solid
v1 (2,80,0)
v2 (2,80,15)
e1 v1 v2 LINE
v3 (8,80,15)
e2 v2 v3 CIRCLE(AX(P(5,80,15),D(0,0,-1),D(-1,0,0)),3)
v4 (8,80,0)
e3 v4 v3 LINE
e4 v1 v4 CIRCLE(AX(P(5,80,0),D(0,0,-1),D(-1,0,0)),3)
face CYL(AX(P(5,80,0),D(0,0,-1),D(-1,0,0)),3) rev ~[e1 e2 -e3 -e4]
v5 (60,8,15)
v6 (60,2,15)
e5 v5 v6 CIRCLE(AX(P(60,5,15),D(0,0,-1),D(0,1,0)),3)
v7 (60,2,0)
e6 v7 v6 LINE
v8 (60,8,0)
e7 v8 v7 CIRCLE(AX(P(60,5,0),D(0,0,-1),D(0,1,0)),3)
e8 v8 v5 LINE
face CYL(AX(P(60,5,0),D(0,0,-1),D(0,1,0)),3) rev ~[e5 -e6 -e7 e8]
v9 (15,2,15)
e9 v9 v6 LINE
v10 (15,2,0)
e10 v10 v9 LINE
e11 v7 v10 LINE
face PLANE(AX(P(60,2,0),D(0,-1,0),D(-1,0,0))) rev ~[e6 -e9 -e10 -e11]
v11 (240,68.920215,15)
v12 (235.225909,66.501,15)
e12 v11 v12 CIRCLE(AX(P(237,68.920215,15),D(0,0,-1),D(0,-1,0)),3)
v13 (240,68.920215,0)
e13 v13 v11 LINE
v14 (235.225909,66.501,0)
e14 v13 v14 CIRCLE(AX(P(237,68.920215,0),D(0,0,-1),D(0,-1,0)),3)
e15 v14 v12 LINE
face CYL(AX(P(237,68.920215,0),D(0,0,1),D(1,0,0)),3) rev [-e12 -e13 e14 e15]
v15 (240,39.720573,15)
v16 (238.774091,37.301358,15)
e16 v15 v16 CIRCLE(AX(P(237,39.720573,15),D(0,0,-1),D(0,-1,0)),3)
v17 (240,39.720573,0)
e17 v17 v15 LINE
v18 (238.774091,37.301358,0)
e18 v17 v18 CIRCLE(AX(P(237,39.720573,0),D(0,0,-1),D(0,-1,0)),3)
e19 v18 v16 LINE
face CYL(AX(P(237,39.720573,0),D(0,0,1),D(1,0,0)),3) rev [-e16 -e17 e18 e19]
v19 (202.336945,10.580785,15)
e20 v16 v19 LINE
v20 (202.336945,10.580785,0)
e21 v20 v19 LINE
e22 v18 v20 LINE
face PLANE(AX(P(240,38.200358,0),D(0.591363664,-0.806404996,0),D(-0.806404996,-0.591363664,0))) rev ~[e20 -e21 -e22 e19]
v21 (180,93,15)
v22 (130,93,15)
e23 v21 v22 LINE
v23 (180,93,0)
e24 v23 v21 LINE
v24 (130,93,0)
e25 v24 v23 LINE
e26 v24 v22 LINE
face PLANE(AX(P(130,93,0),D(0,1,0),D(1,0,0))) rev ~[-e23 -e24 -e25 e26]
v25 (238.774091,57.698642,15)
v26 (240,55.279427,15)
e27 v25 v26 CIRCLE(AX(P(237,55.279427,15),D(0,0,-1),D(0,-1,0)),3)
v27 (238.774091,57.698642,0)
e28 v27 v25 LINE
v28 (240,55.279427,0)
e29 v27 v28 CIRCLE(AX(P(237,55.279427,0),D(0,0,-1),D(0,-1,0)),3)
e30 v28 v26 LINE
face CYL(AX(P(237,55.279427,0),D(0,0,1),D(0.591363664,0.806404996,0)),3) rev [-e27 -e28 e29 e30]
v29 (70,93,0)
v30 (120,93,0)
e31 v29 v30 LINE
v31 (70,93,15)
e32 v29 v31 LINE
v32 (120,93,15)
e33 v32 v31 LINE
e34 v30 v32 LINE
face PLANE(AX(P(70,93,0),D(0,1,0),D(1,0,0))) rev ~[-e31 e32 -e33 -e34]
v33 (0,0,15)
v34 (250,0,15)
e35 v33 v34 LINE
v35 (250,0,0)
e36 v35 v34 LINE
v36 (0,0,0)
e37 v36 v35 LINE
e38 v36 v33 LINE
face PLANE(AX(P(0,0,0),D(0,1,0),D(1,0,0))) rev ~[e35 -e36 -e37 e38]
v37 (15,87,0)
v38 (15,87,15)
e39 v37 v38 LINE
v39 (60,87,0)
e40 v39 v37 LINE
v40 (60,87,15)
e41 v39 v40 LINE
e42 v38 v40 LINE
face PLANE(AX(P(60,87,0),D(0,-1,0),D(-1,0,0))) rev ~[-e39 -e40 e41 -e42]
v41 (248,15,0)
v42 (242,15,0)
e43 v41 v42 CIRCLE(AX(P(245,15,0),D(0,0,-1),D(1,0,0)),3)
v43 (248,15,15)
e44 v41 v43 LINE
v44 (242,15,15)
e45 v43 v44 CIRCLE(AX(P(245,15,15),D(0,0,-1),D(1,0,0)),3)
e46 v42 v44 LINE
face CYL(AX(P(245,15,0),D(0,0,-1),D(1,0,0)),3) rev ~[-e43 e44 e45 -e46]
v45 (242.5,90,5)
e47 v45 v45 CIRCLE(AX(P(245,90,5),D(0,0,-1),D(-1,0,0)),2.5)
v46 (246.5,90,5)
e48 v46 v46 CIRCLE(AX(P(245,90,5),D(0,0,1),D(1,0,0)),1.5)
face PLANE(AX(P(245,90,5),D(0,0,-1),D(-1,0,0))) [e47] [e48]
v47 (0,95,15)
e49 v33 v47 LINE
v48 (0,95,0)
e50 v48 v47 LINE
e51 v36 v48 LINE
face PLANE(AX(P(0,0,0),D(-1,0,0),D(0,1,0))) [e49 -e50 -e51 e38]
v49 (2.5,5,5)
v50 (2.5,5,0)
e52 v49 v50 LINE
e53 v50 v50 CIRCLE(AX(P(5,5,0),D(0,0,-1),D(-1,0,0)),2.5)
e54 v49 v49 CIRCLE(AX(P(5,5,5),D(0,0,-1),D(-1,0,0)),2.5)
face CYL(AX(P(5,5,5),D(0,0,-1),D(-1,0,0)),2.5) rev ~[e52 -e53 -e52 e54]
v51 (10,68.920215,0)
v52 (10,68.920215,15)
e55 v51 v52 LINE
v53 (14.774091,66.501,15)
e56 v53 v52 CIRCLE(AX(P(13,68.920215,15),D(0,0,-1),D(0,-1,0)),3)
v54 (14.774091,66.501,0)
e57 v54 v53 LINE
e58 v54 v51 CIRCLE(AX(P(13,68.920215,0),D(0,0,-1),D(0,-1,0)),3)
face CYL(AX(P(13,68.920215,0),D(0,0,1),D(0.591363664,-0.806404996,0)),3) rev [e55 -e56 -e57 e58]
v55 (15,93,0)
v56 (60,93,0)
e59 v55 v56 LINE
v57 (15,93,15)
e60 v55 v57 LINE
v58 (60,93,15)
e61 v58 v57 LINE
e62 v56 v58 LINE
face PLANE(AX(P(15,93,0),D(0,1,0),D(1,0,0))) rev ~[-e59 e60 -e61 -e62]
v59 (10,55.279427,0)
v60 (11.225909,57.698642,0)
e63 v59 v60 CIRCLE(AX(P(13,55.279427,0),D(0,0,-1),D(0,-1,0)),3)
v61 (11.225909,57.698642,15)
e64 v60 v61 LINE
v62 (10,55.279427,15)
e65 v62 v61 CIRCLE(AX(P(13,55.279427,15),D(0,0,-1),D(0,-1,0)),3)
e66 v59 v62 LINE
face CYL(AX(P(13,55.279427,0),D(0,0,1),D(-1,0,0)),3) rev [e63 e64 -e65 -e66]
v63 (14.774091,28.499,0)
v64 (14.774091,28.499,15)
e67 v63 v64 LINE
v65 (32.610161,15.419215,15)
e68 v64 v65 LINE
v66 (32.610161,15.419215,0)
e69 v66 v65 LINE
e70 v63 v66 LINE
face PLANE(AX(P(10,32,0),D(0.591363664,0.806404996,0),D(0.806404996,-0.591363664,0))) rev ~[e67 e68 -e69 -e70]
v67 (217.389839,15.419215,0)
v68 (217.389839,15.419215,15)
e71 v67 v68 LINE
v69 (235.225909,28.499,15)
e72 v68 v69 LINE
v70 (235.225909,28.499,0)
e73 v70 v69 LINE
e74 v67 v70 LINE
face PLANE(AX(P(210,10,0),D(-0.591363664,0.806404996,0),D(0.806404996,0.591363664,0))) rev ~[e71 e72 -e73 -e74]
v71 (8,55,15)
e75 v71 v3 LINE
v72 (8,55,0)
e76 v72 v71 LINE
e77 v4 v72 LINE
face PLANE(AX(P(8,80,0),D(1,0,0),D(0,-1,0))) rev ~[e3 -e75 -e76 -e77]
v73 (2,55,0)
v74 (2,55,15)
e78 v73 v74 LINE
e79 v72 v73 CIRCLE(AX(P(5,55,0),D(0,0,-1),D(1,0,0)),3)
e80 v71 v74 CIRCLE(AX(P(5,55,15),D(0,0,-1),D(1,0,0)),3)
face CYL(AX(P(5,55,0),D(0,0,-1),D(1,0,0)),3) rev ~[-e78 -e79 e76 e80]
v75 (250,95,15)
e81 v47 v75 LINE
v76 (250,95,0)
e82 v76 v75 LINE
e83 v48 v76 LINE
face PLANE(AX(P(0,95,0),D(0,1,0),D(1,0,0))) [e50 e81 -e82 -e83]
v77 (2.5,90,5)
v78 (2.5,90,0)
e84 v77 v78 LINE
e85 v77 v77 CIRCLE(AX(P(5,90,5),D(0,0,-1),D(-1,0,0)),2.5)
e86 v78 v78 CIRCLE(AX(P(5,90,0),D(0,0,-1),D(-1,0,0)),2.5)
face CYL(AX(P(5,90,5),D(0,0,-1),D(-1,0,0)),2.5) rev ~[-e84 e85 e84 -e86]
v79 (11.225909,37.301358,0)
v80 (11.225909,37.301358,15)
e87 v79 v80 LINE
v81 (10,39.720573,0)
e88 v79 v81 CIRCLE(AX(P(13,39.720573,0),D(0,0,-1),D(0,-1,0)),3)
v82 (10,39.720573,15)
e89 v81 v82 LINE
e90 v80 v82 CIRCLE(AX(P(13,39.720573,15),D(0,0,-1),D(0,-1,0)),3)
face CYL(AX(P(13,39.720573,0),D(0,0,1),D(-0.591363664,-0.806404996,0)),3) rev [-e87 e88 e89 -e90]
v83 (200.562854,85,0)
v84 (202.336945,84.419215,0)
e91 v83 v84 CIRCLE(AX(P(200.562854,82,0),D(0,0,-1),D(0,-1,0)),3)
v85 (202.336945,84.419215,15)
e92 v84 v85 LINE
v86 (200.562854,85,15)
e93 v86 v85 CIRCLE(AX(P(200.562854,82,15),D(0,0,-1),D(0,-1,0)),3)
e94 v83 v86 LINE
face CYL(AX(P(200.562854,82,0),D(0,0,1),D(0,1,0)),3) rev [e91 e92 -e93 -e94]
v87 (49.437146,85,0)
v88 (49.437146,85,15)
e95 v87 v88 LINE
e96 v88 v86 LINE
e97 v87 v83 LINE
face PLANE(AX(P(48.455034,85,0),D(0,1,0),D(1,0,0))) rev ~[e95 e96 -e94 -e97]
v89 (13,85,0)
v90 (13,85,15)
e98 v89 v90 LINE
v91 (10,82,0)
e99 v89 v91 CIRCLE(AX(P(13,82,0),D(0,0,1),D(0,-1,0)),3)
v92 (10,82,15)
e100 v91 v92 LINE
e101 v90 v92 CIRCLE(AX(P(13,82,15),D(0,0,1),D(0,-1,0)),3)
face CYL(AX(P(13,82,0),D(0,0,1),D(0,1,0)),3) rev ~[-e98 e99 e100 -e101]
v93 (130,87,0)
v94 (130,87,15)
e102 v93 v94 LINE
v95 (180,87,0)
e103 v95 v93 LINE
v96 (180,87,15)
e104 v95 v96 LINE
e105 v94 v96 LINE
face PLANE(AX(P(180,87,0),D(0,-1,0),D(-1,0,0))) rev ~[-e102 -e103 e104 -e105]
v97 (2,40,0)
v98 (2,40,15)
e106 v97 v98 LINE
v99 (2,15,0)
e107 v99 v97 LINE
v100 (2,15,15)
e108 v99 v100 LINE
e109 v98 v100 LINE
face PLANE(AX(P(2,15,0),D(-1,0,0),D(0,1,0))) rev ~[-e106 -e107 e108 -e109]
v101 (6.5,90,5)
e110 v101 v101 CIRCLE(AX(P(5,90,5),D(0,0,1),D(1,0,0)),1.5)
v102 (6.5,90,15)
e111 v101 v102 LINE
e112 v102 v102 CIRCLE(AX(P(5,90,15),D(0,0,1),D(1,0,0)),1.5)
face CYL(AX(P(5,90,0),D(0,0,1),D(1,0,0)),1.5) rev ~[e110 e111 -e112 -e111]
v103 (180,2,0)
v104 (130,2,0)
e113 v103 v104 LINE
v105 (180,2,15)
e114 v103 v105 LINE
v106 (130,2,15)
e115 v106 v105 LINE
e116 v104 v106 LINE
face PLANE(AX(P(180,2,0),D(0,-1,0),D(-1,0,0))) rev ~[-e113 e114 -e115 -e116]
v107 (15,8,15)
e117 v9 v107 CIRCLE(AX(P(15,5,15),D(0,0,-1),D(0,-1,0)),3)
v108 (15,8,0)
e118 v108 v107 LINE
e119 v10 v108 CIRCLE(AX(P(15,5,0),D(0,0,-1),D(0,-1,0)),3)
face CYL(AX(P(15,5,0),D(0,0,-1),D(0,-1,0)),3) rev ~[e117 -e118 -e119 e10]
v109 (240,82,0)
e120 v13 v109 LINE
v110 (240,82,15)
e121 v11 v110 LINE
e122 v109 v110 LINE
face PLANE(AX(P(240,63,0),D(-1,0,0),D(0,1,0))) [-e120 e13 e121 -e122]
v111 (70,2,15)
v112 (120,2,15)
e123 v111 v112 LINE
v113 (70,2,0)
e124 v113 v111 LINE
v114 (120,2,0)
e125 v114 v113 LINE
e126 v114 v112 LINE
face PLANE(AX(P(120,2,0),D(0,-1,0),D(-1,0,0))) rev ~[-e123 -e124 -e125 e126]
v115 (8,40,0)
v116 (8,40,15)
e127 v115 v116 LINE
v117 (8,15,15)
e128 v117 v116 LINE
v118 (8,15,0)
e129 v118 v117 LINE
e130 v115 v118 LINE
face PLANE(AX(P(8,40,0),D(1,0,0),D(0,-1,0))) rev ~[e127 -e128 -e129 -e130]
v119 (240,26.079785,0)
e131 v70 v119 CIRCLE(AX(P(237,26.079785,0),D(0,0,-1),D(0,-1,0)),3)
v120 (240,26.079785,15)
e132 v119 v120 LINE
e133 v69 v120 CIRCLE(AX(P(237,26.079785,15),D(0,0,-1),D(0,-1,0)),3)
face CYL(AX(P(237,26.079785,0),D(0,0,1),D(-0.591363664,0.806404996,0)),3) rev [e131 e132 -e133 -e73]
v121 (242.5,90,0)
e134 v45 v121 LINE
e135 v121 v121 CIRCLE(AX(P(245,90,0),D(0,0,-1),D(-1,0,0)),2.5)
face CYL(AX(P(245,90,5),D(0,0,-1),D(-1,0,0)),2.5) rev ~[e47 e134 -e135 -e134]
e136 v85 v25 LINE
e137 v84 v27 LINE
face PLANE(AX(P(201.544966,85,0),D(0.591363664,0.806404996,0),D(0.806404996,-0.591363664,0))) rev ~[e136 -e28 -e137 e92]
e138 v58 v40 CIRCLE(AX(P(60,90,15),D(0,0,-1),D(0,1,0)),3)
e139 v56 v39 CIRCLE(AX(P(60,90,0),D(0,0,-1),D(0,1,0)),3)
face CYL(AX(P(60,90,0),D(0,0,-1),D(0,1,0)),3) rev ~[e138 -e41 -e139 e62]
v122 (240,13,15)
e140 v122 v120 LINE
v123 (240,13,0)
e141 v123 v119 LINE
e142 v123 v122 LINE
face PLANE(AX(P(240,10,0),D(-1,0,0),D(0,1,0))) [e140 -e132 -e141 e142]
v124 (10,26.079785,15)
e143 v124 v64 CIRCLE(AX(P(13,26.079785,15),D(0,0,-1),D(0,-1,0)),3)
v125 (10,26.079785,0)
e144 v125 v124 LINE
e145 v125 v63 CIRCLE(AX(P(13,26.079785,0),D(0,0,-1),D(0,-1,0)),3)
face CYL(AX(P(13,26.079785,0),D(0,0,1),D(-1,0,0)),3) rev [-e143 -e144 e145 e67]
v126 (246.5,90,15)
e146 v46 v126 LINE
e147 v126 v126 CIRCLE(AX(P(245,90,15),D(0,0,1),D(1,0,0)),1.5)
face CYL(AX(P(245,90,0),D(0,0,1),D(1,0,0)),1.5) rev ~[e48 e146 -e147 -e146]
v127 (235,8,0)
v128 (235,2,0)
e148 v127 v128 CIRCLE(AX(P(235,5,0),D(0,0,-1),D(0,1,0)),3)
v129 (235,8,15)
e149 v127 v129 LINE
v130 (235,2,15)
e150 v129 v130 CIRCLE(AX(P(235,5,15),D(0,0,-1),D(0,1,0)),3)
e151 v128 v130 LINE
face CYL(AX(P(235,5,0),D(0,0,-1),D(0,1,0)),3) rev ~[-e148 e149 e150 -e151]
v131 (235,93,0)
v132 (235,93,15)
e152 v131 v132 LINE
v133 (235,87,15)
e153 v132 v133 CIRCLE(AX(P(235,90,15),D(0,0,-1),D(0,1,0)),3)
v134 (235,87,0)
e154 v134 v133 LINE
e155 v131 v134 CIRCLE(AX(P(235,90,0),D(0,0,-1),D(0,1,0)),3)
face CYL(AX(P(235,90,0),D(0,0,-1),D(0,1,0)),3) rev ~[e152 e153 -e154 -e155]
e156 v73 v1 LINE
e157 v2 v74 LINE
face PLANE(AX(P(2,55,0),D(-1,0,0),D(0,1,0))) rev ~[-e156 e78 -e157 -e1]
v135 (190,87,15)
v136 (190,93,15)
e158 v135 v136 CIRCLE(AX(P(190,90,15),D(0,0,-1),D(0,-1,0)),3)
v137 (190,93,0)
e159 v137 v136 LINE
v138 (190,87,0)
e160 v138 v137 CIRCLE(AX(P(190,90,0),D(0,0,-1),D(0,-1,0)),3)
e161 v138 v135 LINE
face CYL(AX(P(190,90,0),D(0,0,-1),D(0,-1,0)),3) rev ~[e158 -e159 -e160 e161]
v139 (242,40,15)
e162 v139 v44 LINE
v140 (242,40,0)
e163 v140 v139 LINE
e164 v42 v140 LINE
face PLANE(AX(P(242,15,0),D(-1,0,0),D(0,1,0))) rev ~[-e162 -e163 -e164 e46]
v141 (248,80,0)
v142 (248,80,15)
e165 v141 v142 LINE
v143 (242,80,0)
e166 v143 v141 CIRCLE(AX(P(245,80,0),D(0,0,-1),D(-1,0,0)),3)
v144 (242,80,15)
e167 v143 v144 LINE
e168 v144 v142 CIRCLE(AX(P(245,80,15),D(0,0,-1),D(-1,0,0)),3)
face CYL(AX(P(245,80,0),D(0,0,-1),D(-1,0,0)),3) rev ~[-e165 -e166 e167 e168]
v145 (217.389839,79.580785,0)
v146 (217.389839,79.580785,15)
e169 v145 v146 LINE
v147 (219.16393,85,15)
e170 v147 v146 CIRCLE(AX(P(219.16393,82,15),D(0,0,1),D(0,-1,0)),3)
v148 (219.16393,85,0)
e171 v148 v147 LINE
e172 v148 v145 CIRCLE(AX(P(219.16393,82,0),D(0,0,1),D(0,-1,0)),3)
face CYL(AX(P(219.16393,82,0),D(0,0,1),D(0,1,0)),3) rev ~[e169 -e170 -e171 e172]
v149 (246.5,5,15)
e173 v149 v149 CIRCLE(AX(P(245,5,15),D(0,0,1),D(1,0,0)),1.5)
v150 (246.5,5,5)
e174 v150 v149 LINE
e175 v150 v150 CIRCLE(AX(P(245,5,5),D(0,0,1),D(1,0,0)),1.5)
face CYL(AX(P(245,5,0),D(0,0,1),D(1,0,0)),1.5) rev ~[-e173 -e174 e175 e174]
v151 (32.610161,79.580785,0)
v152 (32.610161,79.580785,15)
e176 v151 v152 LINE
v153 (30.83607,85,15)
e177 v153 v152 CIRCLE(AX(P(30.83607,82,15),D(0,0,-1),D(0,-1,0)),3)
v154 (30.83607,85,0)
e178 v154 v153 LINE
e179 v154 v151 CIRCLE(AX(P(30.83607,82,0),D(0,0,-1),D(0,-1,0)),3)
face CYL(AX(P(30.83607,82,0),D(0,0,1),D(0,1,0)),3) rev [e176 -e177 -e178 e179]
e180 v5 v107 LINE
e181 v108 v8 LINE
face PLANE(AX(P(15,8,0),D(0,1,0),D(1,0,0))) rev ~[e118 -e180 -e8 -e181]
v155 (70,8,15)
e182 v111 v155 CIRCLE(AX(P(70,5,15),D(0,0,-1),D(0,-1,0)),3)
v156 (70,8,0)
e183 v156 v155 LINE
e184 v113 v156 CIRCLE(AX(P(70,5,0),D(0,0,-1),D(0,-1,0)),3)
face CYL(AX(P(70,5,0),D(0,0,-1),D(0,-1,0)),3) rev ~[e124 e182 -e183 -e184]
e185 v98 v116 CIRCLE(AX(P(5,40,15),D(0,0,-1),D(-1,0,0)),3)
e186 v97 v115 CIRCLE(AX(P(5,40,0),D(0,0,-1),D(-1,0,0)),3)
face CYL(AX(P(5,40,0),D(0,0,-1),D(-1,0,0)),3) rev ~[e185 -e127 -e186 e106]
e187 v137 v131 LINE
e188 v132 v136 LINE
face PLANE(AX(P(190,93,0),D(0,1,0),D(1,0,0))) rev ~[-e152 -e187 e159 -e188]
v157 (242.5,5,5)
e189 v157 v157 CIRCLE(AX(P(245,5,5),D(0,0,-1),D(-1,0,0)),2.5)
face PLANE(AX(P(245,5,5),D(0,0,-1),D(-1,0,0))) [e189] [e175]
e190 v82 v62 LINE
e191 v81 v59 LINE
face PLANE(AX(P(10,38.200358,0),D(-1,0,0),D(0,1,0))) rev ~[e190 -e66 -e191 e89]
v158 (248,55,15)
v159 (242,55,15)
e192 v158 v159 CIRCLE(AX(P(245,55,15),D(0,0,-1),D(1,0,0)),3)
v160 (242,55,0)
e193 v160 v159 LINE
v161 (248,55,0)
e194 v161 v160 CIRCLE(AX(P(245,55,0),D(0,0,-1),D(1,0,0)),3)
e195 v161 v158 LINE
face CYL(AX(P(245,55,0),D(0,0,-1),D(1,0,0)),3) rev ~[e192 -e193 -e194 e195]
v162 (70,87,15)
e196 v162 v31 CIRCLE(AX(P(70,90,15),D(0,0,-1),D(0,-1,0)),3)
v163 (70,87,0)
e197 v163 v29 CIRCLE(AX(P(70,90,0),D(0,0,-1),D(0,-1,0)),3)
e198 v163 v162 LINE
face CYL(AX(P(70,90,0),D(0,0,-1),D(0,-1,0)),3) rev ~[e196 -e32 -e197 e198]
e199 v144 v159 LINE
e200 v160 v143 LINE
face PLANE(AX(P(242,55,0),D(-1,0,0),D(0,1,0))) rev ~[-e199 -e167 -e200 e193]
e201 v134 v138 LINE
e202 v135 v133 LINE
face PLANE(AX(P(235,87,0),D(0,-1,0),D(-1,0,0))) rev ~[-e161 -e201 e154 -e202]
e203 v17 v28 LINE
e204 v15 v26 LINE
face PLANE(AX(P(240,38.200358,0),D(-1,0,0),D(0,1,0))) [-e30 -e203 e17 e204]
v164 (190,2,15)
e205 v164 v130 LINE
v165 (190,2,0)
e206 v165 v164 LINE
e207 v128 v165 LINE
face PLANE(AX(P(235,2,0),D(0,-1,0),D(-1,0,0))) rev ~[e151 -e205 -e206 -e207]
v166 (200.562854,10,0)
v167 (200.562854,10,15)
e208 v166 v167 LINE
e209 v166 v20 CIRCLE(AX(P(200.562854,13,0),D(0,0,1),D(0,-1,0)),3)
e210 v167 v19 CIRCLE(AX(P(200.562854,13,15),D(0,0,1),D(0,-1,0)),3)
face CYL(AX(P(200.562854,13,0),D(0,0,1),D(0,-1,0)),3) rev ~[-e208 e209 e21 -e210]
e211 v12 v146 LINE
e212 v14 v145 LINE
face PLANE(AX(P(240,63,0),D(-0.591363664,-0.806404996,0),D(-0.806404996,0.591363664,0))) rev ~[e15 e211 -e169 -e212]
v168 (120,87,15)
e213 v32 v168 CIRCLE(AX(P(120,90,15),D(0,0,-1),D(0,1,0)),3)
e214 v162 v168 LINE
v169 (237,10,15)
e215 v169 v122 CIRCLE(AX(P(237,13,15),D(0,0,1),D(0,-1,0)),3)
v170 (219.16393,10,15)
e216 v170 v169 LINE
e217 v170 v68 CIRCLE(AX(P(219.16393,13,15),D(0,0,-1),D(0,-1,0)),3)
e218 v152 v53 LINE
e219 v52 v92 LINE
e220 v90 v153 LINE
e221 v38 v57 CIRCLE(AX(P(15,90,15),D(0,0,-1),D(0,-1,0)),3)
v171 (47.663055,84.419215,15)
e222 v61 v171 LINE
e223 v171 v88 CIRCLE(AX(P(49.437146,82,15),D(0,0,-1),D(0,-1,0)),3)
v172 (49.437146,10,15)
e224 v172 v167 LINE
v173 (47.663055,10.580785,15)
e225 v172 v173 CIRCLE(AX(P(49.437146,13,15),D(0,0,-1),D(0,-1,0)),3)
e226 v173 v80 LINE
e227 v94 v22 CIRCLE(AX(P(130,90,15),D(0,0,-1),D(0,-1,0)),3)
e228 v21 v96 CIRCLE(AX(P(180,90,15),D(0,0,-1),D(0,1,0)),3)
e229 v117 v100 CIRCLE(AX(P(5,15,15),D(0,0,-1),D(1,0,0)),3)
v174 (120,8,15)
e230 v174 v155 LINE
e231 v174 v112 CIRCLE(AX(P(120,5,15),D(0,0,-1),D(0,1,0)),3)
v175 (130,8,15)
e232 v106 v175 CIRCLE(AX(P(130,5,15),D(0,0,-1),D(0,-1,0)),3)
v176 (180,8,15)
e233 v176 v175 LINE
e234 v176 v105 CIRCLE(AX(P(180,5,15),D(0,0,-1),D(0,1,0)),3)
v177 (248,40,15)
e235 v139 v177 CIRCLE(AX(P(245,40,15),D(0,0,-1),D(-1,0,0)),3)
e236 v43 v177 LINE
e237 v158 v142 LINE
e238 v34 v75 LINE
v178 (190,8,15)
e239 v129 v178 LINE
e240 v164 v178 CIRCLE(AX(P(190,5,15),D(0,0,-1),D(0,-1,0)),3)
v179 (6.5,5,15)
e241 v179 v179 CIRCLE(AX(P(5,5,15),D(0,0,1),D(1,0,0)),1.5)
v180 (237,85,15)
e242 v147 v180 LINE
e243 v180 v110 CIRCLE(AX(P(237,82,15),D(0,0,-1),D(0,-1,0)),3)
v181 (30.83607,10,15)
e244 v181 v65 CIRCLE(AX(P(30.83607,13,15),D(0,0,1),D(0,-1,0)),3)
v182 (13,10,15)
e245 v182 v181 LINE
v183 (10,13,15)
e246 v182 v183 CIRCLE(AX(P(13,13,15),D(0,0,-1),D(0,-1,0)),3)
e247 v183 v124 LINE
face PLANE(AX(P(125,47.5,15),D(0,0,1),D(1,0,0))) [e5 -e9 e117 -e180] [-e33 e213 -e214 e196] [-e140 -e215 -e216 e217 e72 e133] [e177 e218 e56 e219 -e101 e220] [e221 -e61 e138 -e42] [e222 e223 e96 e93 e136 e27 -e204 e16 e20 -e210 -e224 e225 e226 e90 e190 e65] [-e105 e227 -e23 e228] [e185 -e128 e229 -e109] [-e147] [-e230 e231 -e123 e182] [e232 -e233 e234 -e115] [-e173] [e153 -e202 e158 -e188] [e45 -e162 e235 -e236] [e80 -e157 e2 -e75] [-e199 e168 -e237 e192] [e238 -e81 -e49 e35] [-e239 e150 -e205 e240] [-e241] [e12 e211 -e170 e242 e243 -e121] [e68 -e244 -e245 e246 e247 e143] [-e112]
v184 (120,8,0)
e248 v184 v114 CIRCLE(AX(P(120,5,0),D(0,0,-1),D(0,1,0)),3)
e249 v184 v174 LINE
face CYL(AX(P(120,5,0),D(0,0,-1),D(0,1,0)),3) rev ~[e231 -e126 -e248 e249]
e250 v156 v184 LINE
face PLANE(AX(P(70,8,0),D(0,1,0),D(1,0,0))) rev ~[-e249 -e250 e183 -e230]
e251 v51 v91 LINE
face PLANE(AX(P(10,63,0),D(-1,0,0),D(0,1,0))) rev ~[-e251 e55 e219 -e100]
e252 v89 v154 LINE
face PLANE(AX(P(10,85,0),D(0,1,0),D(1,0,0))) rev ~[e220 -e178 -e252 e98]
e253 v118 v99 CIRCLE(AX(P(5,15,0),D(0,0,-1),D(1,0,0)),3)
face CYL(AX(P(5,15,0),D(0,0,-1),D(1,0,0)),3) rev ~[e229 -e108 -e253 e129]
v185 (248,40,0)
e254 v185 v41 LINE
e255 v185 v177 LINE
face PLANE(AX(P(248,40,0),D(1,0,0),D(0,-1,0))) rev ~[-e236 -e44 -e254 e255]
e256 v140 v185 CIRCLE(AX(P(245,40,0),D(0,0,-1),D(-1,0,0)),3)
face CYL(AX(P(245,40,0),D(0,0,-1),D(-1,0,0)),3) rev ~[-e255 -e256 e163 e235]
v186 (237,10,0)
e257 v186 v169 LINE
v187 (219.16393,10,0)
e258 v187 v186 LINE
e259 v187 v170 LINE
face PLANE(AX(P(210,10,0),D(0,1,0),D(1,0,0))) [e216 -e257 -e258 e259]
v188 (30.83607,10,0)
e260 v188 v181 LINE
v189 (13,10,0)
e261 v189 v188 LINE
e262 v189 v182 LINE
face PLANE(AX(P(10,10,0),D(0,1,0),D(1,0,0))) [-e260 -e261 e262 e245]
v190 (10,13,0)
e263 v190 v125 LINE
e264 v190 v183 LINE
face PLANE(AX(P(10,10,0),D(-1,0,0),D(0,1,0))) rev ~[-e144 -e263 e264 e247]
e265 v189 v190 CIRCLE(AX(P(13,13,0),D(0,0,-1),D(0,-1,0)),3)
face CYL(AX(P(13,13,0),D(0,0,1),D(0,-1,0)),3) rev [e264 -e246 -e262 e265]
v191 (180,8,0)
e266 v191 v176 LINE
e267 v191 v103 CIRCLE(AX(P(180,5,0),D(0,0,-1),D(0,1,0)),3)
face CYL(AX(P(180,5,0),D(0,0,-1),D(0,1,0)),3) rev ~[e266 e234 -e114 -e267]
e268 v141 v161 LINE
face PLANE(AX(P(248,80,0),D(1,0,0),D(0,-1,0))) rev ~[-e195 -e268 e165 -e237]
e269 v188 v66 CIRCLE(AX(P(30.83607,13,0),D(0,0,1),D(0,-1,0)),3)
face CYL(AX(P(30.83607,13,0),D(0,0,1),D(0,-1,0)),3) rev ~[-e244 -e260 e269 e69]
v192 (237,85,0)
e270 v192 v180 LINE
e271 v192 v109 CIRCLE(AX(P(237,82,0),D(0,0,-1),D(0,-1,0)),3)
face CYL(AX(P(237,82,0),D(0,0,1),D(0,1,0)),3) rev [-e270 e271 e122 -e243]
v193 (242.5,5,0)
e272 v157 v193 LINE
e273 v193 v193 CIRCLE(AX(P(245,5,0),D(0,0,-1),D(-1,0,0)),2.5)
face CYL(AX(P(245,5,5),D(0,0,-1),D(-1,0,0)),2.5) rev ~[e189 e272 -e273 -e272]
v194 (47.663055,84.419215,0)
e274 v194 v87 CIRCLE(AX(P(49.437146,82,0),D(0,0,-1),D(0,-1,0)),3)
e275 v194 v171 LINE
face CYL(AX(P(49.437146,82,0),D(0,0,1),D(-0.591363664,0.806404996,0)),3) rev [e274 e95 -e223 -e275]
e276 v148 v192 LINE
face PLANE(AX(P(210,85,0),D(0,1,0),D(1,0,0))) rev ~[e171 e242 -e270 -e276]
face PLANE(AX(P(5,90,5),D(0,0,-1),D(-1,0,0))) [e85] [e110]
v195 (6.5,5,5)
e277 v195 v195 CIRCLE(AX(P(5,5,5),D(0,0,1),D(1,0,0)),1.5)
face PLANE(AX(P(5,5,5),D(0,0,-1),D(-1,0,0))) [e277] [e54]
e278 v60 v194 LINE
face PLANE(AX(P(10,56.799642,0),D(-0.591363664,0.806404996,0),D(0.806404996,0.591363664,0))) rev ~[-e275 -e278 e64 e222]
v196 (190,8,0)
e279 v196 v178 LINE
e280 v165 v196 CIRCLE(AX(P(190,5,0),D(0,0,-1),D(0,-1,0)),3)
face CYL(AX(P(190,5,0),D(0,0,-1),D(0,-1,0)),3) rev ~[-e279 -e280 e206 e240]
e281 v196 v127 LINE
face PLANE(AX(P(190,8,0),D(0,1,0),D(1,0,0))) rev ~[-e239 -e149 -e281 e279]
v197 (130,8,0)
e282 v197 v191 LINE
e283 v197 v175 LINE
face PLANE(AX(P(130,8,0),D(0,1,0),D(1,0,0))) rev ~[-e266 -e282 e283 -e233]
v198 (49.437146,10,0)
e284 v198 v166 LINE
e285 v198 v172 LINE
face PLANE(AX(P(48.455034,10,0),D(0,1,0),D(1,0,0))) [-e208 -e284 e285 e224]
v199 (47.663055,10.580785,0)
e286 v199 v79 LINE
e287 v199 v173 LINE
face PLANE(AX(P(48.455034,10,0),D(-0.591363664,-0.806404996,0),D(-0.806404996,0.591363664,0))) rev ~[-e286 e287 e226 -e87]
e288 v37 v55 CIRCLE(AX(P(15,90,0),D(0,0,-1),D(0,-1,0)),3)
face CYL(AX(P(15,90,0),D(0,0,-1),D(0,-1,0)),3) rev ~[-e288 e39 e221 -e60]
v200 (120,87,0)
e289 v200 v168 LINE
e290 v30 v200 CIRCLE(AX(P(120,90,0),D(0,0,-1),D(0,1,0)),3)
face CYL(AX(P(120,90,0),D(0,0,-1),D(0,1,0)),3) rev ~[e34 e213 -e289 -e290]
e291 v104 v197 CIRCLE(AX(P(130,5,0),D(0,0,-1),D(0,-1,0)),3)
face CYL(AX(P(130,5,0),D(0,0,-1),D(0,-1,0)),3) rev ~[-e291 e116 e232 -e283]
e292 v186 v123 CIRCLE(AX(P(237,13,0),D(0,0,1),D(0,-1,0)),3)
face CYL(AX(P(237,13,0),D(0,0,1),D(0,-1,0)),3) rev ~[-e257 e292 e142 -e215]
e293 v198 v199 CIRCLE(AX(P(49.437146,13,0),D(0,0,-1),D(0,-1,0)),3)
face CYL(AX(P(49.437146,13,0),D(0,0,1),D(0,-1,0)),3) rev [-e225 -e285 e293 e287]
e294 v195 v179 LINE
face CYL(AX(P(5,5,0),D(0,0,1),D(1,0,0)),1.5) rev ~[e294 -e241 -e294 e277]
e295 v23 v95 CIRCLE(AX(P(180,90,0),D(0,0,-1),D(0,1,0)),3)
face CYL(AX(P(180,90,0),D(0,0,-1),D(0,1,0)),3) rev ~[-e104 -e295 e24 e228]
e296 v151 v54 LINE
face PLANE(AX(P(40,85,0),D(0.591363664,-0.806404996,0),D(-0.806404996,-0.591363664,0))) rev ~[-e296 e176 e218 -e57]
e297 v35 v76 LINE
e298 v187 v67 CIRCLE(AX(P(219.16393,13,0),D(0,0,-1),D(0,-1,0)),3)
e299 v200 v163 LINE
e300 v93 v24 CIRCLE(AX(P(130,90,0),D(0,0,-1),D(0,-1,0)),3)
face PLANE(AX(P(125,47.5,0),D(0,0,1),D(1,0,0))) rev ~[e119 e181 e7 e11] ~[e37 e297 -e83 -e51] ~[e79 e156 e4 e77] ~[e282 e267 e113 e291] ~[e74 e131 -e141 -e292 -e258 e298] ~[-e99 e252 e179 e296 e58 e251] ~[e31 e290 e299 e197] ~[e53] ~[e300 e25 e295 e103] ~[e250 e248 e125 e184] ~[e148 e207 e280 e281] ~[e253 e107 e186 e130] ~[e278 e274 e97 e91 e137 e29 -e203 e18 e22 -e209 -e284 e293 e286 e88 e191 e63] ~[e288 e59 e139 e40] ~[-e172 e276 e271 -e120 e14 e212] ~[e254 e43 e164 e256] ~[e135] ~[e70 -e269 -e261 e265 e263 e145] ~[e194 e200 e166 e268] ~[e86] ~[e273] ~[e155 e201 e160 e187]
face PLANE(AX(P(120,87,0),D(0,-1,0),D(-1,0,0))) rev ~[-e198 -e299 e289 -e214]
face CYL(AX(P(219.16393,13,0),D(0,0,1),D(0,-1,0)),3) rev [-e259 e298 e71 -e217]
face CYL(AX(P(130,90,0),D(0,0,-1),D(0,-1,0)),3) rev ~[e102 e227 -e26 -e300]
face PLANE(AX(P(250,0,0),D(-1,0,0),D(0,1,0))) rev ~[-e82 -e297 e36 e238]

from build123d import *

# Parameters (mm, degrees)
SKETCH1_W                                      = 250
SKETCH1_H                                      = 95
SKETCH1_W_2                                    = 230
SKETCH1_H_2                                    = 75
BOSS_EXTRUDE1_DEPTH                            = 15
FILLET1_R                                      = 3
CUT_EXTRUDE2_DEPTH                             = 16
CBORE_FOR_M1_6_HEX_HEAD_CAP_SCREW1_D           = 3
CBORE_FOR_M1_6_HEX_HEAD_CAP_SCREW1_CBORE_D     = 5
CBORE_FOR_M1_6_HEX_HEAD_CAP_SCREW1_CBORE_DEPTH = 5


with BuildPart() as part:
    # Sketch1 → Boss-Extrude1 (new body)
    with BuildSketch(Plane.XY):
        with Locations((125, 47.5)):
            Rectangle(SKETCH1_W, SKETCH1_H)
        with Locations((125, 47.5)):
            Rectangle(SKETCH1_W_2, SKETCH1_H_2, mode=Mode.SUBTRACT)
        Polygon((40, 85), (10, 63), (10, 56.799641587), (48.455034199, 85), align=None)
        Polygon((48.455034199, 10), (10, 38.200358413), (10, 32), (40, 10), align=None)
        Polygon((240, 38.200358413), (201.544965801, 10), (210, 10), (240, 32), align=None)
        Polygon((210, 85), (201.544965801, 85), (240, 56.799641587), (240, 63), align=None)
    extrude(amount=BOSS_EXTRUDE1_DEPTH)

    # Fillet1
    fillet1_edges = [part.edges().sort_by_distance(p)[0] for p in [
        (10, 32, 7.5),
        (10, 10, 7.5),
        (40, 10, 7.5),
        (210, 10, 7.5),
        (240, 10, 7.5),
        (240, 32, 7.5),
        (240, 63, 7.5),
        (240, 85, 7.5),
        (210, 85, 7.5),
        (10, 85, 7.5),
        (10, 63, 7.5),
        (40, 85, 7.5),
        (48.455034199, 85, 7.5),
        (10, 56.799641587, 7.5),
        (10, 38.200358413, 7.5),
        (48.455034199, 10, 7.5),
        (201.544965801, 10, 7.5),
        (240, 38.200358413, 7.5),
        (240, 56.799641587, 7.5),
        (201.544965801, 85, 7.5),
    ]]
    fillet(fillet1_edges, radius=FILLET1_R)

    # Sketch11 → Cut-Extrude2 (cut, through all)
    with BuildSketch(Plane(origin=(0, 0, 0), x_dir=(-1, 0, 0), z_dir=(0, 0, -1))):
        with BuildLine():
            Line((-248, 80), (-248, 55))
            ThreePointArc((-248, 55), (-245, 52), (-242, 55))
            Line((-242, 55), (-242, 80))
            ThreePointArc((-242, 80), (-245, 83), (-248, 80))
        make_face()
        with BuildLine():
            Line((-248, 40), (-248, 15))
            ThreePointArc((-248, 15), (-245, 12), (-242, 15))
            Line((-242, 15), (-242, 40))
            ThreePointArc((-242, 40), (-245, 43), (-248, 40))
        make_face()
        with BuildLine():
            Line((-190, 8), (-235, 8))
            ThreePointArc((-235, 8), (-238, 5), (-235, 2))
            Line((-235, 2), (-190, 2))
            ThreePointArc((-190, 2), (-187, 5), (-190, 8))
        make_face()
        with BuildLine():
            Line((-130, 8), (-180, 8))
            ThreePointArc((-180, 8), (-183, 5), (-180, 2))
            Line((-180, 2), (-130, 2))
            ThreePointArc((-130, 2), (-127, 5), (-130, 8))
        make_face()
        with BuildLine():
            Line((-70, 8), (-120, 8))
            ThreePointArc((-120, 8), (-123, 5), (-120, 2))
            Line((-120, 2), (-70, 2))
            ThreePointArc((-70, 2), (-67, 5), (-70, 8))
        make_face()
        with BuildLine():
            Line((-15, 8), (-60, 8))
            ThreePointArc((-60, 8), (-63, 5), (-60, 2))
            Line((-60, 2), (-15, 2))
            ThreePointArc((-15, 2), (-12, 5), (-15, 8))
        make_face()
        with BuildLine():
            Line((-8, 40), (-8, 15))
            ThreePointArc((-8, 15), (-5, 12), (-2, 15))
            Line((-2, 15), (-2, 40))
            ThreePointArc((-2, 40), (-5, 43), (-8, 40))
        make_face()
        with BuildLine():
            Line((-8, 80), (-8, 55))
            ThreePointArc((-8, 55), (-5, 52), (-2, 55))
            Line((-2, 55), (-2, 80))
            ThreePointArc((-2, 80), (-5, 83), (-8, 80))
        make_face()
        with BuildLine():
            Line((-15, 93), (-60, 93))
            ThreePointArc((-60, 93), (-63, 90), (-60, 87))
            Line((-60, 87), (-15, 87))
            ThreePointArc((-15, 87), (-12, 90), (-15, 93))
        make_face()
        with BuildLine():
            Line((-70, 93), (-120, 93))
            ThreePointArc((-120, 93), (-123, 90), (-120, 87))
            Line((-120, 87), (-70, 87))
            ThreePointArc((-70, 87), (-67, 90), (-70, 93))
        make_face()
        with BuildLine():
            Line((-130, 93), (-180, 93))
            ThreePointArc((-180, 93), (-183, 90), (-180, 87))
            Line((-180, 87), (-130, 87))
            ThreePointArc((-130, 87), (-127, 90), (-130, 93))
        make_face()
        with BuildLine():
            Line((-190, 93), (-235, 93))
            ThreePointArc((-235, 93), (-238, 90), (-235, 87))
            Line((-235, 87), (-190, 87))
            ThreePointArc((-190, 87), (-187, 90), (-190, 93))
        make_face()
    extrude(amount=-CUT_EXTRUDE2_DEPTH, mode=Mode.SUBTRACT)

    # CBORE for M1.6 Hex Head Cap Screw1 (through all)
    with Locations(Plane(origin=(0, 0, 0), x_dir=(-1, 0, 0), z_dir=(0, 0, -1))):
        with Locations((-245, 90), (-245, 5), (-5, 5), (-5, 90)):
            CounterBoreHole(CBORE_FOR_M1_6_HEX_HEAD_CAP_SCREW1_D / 2, CBORE_FOR_M1_6_HEX_HEAD_CAP_SCREW1_CBORE_D / 2, CBORE_FOR_M1_6_HEX_HEAD_CAP_SCREW1_CBORE_DEPTH)


solid = part.part
